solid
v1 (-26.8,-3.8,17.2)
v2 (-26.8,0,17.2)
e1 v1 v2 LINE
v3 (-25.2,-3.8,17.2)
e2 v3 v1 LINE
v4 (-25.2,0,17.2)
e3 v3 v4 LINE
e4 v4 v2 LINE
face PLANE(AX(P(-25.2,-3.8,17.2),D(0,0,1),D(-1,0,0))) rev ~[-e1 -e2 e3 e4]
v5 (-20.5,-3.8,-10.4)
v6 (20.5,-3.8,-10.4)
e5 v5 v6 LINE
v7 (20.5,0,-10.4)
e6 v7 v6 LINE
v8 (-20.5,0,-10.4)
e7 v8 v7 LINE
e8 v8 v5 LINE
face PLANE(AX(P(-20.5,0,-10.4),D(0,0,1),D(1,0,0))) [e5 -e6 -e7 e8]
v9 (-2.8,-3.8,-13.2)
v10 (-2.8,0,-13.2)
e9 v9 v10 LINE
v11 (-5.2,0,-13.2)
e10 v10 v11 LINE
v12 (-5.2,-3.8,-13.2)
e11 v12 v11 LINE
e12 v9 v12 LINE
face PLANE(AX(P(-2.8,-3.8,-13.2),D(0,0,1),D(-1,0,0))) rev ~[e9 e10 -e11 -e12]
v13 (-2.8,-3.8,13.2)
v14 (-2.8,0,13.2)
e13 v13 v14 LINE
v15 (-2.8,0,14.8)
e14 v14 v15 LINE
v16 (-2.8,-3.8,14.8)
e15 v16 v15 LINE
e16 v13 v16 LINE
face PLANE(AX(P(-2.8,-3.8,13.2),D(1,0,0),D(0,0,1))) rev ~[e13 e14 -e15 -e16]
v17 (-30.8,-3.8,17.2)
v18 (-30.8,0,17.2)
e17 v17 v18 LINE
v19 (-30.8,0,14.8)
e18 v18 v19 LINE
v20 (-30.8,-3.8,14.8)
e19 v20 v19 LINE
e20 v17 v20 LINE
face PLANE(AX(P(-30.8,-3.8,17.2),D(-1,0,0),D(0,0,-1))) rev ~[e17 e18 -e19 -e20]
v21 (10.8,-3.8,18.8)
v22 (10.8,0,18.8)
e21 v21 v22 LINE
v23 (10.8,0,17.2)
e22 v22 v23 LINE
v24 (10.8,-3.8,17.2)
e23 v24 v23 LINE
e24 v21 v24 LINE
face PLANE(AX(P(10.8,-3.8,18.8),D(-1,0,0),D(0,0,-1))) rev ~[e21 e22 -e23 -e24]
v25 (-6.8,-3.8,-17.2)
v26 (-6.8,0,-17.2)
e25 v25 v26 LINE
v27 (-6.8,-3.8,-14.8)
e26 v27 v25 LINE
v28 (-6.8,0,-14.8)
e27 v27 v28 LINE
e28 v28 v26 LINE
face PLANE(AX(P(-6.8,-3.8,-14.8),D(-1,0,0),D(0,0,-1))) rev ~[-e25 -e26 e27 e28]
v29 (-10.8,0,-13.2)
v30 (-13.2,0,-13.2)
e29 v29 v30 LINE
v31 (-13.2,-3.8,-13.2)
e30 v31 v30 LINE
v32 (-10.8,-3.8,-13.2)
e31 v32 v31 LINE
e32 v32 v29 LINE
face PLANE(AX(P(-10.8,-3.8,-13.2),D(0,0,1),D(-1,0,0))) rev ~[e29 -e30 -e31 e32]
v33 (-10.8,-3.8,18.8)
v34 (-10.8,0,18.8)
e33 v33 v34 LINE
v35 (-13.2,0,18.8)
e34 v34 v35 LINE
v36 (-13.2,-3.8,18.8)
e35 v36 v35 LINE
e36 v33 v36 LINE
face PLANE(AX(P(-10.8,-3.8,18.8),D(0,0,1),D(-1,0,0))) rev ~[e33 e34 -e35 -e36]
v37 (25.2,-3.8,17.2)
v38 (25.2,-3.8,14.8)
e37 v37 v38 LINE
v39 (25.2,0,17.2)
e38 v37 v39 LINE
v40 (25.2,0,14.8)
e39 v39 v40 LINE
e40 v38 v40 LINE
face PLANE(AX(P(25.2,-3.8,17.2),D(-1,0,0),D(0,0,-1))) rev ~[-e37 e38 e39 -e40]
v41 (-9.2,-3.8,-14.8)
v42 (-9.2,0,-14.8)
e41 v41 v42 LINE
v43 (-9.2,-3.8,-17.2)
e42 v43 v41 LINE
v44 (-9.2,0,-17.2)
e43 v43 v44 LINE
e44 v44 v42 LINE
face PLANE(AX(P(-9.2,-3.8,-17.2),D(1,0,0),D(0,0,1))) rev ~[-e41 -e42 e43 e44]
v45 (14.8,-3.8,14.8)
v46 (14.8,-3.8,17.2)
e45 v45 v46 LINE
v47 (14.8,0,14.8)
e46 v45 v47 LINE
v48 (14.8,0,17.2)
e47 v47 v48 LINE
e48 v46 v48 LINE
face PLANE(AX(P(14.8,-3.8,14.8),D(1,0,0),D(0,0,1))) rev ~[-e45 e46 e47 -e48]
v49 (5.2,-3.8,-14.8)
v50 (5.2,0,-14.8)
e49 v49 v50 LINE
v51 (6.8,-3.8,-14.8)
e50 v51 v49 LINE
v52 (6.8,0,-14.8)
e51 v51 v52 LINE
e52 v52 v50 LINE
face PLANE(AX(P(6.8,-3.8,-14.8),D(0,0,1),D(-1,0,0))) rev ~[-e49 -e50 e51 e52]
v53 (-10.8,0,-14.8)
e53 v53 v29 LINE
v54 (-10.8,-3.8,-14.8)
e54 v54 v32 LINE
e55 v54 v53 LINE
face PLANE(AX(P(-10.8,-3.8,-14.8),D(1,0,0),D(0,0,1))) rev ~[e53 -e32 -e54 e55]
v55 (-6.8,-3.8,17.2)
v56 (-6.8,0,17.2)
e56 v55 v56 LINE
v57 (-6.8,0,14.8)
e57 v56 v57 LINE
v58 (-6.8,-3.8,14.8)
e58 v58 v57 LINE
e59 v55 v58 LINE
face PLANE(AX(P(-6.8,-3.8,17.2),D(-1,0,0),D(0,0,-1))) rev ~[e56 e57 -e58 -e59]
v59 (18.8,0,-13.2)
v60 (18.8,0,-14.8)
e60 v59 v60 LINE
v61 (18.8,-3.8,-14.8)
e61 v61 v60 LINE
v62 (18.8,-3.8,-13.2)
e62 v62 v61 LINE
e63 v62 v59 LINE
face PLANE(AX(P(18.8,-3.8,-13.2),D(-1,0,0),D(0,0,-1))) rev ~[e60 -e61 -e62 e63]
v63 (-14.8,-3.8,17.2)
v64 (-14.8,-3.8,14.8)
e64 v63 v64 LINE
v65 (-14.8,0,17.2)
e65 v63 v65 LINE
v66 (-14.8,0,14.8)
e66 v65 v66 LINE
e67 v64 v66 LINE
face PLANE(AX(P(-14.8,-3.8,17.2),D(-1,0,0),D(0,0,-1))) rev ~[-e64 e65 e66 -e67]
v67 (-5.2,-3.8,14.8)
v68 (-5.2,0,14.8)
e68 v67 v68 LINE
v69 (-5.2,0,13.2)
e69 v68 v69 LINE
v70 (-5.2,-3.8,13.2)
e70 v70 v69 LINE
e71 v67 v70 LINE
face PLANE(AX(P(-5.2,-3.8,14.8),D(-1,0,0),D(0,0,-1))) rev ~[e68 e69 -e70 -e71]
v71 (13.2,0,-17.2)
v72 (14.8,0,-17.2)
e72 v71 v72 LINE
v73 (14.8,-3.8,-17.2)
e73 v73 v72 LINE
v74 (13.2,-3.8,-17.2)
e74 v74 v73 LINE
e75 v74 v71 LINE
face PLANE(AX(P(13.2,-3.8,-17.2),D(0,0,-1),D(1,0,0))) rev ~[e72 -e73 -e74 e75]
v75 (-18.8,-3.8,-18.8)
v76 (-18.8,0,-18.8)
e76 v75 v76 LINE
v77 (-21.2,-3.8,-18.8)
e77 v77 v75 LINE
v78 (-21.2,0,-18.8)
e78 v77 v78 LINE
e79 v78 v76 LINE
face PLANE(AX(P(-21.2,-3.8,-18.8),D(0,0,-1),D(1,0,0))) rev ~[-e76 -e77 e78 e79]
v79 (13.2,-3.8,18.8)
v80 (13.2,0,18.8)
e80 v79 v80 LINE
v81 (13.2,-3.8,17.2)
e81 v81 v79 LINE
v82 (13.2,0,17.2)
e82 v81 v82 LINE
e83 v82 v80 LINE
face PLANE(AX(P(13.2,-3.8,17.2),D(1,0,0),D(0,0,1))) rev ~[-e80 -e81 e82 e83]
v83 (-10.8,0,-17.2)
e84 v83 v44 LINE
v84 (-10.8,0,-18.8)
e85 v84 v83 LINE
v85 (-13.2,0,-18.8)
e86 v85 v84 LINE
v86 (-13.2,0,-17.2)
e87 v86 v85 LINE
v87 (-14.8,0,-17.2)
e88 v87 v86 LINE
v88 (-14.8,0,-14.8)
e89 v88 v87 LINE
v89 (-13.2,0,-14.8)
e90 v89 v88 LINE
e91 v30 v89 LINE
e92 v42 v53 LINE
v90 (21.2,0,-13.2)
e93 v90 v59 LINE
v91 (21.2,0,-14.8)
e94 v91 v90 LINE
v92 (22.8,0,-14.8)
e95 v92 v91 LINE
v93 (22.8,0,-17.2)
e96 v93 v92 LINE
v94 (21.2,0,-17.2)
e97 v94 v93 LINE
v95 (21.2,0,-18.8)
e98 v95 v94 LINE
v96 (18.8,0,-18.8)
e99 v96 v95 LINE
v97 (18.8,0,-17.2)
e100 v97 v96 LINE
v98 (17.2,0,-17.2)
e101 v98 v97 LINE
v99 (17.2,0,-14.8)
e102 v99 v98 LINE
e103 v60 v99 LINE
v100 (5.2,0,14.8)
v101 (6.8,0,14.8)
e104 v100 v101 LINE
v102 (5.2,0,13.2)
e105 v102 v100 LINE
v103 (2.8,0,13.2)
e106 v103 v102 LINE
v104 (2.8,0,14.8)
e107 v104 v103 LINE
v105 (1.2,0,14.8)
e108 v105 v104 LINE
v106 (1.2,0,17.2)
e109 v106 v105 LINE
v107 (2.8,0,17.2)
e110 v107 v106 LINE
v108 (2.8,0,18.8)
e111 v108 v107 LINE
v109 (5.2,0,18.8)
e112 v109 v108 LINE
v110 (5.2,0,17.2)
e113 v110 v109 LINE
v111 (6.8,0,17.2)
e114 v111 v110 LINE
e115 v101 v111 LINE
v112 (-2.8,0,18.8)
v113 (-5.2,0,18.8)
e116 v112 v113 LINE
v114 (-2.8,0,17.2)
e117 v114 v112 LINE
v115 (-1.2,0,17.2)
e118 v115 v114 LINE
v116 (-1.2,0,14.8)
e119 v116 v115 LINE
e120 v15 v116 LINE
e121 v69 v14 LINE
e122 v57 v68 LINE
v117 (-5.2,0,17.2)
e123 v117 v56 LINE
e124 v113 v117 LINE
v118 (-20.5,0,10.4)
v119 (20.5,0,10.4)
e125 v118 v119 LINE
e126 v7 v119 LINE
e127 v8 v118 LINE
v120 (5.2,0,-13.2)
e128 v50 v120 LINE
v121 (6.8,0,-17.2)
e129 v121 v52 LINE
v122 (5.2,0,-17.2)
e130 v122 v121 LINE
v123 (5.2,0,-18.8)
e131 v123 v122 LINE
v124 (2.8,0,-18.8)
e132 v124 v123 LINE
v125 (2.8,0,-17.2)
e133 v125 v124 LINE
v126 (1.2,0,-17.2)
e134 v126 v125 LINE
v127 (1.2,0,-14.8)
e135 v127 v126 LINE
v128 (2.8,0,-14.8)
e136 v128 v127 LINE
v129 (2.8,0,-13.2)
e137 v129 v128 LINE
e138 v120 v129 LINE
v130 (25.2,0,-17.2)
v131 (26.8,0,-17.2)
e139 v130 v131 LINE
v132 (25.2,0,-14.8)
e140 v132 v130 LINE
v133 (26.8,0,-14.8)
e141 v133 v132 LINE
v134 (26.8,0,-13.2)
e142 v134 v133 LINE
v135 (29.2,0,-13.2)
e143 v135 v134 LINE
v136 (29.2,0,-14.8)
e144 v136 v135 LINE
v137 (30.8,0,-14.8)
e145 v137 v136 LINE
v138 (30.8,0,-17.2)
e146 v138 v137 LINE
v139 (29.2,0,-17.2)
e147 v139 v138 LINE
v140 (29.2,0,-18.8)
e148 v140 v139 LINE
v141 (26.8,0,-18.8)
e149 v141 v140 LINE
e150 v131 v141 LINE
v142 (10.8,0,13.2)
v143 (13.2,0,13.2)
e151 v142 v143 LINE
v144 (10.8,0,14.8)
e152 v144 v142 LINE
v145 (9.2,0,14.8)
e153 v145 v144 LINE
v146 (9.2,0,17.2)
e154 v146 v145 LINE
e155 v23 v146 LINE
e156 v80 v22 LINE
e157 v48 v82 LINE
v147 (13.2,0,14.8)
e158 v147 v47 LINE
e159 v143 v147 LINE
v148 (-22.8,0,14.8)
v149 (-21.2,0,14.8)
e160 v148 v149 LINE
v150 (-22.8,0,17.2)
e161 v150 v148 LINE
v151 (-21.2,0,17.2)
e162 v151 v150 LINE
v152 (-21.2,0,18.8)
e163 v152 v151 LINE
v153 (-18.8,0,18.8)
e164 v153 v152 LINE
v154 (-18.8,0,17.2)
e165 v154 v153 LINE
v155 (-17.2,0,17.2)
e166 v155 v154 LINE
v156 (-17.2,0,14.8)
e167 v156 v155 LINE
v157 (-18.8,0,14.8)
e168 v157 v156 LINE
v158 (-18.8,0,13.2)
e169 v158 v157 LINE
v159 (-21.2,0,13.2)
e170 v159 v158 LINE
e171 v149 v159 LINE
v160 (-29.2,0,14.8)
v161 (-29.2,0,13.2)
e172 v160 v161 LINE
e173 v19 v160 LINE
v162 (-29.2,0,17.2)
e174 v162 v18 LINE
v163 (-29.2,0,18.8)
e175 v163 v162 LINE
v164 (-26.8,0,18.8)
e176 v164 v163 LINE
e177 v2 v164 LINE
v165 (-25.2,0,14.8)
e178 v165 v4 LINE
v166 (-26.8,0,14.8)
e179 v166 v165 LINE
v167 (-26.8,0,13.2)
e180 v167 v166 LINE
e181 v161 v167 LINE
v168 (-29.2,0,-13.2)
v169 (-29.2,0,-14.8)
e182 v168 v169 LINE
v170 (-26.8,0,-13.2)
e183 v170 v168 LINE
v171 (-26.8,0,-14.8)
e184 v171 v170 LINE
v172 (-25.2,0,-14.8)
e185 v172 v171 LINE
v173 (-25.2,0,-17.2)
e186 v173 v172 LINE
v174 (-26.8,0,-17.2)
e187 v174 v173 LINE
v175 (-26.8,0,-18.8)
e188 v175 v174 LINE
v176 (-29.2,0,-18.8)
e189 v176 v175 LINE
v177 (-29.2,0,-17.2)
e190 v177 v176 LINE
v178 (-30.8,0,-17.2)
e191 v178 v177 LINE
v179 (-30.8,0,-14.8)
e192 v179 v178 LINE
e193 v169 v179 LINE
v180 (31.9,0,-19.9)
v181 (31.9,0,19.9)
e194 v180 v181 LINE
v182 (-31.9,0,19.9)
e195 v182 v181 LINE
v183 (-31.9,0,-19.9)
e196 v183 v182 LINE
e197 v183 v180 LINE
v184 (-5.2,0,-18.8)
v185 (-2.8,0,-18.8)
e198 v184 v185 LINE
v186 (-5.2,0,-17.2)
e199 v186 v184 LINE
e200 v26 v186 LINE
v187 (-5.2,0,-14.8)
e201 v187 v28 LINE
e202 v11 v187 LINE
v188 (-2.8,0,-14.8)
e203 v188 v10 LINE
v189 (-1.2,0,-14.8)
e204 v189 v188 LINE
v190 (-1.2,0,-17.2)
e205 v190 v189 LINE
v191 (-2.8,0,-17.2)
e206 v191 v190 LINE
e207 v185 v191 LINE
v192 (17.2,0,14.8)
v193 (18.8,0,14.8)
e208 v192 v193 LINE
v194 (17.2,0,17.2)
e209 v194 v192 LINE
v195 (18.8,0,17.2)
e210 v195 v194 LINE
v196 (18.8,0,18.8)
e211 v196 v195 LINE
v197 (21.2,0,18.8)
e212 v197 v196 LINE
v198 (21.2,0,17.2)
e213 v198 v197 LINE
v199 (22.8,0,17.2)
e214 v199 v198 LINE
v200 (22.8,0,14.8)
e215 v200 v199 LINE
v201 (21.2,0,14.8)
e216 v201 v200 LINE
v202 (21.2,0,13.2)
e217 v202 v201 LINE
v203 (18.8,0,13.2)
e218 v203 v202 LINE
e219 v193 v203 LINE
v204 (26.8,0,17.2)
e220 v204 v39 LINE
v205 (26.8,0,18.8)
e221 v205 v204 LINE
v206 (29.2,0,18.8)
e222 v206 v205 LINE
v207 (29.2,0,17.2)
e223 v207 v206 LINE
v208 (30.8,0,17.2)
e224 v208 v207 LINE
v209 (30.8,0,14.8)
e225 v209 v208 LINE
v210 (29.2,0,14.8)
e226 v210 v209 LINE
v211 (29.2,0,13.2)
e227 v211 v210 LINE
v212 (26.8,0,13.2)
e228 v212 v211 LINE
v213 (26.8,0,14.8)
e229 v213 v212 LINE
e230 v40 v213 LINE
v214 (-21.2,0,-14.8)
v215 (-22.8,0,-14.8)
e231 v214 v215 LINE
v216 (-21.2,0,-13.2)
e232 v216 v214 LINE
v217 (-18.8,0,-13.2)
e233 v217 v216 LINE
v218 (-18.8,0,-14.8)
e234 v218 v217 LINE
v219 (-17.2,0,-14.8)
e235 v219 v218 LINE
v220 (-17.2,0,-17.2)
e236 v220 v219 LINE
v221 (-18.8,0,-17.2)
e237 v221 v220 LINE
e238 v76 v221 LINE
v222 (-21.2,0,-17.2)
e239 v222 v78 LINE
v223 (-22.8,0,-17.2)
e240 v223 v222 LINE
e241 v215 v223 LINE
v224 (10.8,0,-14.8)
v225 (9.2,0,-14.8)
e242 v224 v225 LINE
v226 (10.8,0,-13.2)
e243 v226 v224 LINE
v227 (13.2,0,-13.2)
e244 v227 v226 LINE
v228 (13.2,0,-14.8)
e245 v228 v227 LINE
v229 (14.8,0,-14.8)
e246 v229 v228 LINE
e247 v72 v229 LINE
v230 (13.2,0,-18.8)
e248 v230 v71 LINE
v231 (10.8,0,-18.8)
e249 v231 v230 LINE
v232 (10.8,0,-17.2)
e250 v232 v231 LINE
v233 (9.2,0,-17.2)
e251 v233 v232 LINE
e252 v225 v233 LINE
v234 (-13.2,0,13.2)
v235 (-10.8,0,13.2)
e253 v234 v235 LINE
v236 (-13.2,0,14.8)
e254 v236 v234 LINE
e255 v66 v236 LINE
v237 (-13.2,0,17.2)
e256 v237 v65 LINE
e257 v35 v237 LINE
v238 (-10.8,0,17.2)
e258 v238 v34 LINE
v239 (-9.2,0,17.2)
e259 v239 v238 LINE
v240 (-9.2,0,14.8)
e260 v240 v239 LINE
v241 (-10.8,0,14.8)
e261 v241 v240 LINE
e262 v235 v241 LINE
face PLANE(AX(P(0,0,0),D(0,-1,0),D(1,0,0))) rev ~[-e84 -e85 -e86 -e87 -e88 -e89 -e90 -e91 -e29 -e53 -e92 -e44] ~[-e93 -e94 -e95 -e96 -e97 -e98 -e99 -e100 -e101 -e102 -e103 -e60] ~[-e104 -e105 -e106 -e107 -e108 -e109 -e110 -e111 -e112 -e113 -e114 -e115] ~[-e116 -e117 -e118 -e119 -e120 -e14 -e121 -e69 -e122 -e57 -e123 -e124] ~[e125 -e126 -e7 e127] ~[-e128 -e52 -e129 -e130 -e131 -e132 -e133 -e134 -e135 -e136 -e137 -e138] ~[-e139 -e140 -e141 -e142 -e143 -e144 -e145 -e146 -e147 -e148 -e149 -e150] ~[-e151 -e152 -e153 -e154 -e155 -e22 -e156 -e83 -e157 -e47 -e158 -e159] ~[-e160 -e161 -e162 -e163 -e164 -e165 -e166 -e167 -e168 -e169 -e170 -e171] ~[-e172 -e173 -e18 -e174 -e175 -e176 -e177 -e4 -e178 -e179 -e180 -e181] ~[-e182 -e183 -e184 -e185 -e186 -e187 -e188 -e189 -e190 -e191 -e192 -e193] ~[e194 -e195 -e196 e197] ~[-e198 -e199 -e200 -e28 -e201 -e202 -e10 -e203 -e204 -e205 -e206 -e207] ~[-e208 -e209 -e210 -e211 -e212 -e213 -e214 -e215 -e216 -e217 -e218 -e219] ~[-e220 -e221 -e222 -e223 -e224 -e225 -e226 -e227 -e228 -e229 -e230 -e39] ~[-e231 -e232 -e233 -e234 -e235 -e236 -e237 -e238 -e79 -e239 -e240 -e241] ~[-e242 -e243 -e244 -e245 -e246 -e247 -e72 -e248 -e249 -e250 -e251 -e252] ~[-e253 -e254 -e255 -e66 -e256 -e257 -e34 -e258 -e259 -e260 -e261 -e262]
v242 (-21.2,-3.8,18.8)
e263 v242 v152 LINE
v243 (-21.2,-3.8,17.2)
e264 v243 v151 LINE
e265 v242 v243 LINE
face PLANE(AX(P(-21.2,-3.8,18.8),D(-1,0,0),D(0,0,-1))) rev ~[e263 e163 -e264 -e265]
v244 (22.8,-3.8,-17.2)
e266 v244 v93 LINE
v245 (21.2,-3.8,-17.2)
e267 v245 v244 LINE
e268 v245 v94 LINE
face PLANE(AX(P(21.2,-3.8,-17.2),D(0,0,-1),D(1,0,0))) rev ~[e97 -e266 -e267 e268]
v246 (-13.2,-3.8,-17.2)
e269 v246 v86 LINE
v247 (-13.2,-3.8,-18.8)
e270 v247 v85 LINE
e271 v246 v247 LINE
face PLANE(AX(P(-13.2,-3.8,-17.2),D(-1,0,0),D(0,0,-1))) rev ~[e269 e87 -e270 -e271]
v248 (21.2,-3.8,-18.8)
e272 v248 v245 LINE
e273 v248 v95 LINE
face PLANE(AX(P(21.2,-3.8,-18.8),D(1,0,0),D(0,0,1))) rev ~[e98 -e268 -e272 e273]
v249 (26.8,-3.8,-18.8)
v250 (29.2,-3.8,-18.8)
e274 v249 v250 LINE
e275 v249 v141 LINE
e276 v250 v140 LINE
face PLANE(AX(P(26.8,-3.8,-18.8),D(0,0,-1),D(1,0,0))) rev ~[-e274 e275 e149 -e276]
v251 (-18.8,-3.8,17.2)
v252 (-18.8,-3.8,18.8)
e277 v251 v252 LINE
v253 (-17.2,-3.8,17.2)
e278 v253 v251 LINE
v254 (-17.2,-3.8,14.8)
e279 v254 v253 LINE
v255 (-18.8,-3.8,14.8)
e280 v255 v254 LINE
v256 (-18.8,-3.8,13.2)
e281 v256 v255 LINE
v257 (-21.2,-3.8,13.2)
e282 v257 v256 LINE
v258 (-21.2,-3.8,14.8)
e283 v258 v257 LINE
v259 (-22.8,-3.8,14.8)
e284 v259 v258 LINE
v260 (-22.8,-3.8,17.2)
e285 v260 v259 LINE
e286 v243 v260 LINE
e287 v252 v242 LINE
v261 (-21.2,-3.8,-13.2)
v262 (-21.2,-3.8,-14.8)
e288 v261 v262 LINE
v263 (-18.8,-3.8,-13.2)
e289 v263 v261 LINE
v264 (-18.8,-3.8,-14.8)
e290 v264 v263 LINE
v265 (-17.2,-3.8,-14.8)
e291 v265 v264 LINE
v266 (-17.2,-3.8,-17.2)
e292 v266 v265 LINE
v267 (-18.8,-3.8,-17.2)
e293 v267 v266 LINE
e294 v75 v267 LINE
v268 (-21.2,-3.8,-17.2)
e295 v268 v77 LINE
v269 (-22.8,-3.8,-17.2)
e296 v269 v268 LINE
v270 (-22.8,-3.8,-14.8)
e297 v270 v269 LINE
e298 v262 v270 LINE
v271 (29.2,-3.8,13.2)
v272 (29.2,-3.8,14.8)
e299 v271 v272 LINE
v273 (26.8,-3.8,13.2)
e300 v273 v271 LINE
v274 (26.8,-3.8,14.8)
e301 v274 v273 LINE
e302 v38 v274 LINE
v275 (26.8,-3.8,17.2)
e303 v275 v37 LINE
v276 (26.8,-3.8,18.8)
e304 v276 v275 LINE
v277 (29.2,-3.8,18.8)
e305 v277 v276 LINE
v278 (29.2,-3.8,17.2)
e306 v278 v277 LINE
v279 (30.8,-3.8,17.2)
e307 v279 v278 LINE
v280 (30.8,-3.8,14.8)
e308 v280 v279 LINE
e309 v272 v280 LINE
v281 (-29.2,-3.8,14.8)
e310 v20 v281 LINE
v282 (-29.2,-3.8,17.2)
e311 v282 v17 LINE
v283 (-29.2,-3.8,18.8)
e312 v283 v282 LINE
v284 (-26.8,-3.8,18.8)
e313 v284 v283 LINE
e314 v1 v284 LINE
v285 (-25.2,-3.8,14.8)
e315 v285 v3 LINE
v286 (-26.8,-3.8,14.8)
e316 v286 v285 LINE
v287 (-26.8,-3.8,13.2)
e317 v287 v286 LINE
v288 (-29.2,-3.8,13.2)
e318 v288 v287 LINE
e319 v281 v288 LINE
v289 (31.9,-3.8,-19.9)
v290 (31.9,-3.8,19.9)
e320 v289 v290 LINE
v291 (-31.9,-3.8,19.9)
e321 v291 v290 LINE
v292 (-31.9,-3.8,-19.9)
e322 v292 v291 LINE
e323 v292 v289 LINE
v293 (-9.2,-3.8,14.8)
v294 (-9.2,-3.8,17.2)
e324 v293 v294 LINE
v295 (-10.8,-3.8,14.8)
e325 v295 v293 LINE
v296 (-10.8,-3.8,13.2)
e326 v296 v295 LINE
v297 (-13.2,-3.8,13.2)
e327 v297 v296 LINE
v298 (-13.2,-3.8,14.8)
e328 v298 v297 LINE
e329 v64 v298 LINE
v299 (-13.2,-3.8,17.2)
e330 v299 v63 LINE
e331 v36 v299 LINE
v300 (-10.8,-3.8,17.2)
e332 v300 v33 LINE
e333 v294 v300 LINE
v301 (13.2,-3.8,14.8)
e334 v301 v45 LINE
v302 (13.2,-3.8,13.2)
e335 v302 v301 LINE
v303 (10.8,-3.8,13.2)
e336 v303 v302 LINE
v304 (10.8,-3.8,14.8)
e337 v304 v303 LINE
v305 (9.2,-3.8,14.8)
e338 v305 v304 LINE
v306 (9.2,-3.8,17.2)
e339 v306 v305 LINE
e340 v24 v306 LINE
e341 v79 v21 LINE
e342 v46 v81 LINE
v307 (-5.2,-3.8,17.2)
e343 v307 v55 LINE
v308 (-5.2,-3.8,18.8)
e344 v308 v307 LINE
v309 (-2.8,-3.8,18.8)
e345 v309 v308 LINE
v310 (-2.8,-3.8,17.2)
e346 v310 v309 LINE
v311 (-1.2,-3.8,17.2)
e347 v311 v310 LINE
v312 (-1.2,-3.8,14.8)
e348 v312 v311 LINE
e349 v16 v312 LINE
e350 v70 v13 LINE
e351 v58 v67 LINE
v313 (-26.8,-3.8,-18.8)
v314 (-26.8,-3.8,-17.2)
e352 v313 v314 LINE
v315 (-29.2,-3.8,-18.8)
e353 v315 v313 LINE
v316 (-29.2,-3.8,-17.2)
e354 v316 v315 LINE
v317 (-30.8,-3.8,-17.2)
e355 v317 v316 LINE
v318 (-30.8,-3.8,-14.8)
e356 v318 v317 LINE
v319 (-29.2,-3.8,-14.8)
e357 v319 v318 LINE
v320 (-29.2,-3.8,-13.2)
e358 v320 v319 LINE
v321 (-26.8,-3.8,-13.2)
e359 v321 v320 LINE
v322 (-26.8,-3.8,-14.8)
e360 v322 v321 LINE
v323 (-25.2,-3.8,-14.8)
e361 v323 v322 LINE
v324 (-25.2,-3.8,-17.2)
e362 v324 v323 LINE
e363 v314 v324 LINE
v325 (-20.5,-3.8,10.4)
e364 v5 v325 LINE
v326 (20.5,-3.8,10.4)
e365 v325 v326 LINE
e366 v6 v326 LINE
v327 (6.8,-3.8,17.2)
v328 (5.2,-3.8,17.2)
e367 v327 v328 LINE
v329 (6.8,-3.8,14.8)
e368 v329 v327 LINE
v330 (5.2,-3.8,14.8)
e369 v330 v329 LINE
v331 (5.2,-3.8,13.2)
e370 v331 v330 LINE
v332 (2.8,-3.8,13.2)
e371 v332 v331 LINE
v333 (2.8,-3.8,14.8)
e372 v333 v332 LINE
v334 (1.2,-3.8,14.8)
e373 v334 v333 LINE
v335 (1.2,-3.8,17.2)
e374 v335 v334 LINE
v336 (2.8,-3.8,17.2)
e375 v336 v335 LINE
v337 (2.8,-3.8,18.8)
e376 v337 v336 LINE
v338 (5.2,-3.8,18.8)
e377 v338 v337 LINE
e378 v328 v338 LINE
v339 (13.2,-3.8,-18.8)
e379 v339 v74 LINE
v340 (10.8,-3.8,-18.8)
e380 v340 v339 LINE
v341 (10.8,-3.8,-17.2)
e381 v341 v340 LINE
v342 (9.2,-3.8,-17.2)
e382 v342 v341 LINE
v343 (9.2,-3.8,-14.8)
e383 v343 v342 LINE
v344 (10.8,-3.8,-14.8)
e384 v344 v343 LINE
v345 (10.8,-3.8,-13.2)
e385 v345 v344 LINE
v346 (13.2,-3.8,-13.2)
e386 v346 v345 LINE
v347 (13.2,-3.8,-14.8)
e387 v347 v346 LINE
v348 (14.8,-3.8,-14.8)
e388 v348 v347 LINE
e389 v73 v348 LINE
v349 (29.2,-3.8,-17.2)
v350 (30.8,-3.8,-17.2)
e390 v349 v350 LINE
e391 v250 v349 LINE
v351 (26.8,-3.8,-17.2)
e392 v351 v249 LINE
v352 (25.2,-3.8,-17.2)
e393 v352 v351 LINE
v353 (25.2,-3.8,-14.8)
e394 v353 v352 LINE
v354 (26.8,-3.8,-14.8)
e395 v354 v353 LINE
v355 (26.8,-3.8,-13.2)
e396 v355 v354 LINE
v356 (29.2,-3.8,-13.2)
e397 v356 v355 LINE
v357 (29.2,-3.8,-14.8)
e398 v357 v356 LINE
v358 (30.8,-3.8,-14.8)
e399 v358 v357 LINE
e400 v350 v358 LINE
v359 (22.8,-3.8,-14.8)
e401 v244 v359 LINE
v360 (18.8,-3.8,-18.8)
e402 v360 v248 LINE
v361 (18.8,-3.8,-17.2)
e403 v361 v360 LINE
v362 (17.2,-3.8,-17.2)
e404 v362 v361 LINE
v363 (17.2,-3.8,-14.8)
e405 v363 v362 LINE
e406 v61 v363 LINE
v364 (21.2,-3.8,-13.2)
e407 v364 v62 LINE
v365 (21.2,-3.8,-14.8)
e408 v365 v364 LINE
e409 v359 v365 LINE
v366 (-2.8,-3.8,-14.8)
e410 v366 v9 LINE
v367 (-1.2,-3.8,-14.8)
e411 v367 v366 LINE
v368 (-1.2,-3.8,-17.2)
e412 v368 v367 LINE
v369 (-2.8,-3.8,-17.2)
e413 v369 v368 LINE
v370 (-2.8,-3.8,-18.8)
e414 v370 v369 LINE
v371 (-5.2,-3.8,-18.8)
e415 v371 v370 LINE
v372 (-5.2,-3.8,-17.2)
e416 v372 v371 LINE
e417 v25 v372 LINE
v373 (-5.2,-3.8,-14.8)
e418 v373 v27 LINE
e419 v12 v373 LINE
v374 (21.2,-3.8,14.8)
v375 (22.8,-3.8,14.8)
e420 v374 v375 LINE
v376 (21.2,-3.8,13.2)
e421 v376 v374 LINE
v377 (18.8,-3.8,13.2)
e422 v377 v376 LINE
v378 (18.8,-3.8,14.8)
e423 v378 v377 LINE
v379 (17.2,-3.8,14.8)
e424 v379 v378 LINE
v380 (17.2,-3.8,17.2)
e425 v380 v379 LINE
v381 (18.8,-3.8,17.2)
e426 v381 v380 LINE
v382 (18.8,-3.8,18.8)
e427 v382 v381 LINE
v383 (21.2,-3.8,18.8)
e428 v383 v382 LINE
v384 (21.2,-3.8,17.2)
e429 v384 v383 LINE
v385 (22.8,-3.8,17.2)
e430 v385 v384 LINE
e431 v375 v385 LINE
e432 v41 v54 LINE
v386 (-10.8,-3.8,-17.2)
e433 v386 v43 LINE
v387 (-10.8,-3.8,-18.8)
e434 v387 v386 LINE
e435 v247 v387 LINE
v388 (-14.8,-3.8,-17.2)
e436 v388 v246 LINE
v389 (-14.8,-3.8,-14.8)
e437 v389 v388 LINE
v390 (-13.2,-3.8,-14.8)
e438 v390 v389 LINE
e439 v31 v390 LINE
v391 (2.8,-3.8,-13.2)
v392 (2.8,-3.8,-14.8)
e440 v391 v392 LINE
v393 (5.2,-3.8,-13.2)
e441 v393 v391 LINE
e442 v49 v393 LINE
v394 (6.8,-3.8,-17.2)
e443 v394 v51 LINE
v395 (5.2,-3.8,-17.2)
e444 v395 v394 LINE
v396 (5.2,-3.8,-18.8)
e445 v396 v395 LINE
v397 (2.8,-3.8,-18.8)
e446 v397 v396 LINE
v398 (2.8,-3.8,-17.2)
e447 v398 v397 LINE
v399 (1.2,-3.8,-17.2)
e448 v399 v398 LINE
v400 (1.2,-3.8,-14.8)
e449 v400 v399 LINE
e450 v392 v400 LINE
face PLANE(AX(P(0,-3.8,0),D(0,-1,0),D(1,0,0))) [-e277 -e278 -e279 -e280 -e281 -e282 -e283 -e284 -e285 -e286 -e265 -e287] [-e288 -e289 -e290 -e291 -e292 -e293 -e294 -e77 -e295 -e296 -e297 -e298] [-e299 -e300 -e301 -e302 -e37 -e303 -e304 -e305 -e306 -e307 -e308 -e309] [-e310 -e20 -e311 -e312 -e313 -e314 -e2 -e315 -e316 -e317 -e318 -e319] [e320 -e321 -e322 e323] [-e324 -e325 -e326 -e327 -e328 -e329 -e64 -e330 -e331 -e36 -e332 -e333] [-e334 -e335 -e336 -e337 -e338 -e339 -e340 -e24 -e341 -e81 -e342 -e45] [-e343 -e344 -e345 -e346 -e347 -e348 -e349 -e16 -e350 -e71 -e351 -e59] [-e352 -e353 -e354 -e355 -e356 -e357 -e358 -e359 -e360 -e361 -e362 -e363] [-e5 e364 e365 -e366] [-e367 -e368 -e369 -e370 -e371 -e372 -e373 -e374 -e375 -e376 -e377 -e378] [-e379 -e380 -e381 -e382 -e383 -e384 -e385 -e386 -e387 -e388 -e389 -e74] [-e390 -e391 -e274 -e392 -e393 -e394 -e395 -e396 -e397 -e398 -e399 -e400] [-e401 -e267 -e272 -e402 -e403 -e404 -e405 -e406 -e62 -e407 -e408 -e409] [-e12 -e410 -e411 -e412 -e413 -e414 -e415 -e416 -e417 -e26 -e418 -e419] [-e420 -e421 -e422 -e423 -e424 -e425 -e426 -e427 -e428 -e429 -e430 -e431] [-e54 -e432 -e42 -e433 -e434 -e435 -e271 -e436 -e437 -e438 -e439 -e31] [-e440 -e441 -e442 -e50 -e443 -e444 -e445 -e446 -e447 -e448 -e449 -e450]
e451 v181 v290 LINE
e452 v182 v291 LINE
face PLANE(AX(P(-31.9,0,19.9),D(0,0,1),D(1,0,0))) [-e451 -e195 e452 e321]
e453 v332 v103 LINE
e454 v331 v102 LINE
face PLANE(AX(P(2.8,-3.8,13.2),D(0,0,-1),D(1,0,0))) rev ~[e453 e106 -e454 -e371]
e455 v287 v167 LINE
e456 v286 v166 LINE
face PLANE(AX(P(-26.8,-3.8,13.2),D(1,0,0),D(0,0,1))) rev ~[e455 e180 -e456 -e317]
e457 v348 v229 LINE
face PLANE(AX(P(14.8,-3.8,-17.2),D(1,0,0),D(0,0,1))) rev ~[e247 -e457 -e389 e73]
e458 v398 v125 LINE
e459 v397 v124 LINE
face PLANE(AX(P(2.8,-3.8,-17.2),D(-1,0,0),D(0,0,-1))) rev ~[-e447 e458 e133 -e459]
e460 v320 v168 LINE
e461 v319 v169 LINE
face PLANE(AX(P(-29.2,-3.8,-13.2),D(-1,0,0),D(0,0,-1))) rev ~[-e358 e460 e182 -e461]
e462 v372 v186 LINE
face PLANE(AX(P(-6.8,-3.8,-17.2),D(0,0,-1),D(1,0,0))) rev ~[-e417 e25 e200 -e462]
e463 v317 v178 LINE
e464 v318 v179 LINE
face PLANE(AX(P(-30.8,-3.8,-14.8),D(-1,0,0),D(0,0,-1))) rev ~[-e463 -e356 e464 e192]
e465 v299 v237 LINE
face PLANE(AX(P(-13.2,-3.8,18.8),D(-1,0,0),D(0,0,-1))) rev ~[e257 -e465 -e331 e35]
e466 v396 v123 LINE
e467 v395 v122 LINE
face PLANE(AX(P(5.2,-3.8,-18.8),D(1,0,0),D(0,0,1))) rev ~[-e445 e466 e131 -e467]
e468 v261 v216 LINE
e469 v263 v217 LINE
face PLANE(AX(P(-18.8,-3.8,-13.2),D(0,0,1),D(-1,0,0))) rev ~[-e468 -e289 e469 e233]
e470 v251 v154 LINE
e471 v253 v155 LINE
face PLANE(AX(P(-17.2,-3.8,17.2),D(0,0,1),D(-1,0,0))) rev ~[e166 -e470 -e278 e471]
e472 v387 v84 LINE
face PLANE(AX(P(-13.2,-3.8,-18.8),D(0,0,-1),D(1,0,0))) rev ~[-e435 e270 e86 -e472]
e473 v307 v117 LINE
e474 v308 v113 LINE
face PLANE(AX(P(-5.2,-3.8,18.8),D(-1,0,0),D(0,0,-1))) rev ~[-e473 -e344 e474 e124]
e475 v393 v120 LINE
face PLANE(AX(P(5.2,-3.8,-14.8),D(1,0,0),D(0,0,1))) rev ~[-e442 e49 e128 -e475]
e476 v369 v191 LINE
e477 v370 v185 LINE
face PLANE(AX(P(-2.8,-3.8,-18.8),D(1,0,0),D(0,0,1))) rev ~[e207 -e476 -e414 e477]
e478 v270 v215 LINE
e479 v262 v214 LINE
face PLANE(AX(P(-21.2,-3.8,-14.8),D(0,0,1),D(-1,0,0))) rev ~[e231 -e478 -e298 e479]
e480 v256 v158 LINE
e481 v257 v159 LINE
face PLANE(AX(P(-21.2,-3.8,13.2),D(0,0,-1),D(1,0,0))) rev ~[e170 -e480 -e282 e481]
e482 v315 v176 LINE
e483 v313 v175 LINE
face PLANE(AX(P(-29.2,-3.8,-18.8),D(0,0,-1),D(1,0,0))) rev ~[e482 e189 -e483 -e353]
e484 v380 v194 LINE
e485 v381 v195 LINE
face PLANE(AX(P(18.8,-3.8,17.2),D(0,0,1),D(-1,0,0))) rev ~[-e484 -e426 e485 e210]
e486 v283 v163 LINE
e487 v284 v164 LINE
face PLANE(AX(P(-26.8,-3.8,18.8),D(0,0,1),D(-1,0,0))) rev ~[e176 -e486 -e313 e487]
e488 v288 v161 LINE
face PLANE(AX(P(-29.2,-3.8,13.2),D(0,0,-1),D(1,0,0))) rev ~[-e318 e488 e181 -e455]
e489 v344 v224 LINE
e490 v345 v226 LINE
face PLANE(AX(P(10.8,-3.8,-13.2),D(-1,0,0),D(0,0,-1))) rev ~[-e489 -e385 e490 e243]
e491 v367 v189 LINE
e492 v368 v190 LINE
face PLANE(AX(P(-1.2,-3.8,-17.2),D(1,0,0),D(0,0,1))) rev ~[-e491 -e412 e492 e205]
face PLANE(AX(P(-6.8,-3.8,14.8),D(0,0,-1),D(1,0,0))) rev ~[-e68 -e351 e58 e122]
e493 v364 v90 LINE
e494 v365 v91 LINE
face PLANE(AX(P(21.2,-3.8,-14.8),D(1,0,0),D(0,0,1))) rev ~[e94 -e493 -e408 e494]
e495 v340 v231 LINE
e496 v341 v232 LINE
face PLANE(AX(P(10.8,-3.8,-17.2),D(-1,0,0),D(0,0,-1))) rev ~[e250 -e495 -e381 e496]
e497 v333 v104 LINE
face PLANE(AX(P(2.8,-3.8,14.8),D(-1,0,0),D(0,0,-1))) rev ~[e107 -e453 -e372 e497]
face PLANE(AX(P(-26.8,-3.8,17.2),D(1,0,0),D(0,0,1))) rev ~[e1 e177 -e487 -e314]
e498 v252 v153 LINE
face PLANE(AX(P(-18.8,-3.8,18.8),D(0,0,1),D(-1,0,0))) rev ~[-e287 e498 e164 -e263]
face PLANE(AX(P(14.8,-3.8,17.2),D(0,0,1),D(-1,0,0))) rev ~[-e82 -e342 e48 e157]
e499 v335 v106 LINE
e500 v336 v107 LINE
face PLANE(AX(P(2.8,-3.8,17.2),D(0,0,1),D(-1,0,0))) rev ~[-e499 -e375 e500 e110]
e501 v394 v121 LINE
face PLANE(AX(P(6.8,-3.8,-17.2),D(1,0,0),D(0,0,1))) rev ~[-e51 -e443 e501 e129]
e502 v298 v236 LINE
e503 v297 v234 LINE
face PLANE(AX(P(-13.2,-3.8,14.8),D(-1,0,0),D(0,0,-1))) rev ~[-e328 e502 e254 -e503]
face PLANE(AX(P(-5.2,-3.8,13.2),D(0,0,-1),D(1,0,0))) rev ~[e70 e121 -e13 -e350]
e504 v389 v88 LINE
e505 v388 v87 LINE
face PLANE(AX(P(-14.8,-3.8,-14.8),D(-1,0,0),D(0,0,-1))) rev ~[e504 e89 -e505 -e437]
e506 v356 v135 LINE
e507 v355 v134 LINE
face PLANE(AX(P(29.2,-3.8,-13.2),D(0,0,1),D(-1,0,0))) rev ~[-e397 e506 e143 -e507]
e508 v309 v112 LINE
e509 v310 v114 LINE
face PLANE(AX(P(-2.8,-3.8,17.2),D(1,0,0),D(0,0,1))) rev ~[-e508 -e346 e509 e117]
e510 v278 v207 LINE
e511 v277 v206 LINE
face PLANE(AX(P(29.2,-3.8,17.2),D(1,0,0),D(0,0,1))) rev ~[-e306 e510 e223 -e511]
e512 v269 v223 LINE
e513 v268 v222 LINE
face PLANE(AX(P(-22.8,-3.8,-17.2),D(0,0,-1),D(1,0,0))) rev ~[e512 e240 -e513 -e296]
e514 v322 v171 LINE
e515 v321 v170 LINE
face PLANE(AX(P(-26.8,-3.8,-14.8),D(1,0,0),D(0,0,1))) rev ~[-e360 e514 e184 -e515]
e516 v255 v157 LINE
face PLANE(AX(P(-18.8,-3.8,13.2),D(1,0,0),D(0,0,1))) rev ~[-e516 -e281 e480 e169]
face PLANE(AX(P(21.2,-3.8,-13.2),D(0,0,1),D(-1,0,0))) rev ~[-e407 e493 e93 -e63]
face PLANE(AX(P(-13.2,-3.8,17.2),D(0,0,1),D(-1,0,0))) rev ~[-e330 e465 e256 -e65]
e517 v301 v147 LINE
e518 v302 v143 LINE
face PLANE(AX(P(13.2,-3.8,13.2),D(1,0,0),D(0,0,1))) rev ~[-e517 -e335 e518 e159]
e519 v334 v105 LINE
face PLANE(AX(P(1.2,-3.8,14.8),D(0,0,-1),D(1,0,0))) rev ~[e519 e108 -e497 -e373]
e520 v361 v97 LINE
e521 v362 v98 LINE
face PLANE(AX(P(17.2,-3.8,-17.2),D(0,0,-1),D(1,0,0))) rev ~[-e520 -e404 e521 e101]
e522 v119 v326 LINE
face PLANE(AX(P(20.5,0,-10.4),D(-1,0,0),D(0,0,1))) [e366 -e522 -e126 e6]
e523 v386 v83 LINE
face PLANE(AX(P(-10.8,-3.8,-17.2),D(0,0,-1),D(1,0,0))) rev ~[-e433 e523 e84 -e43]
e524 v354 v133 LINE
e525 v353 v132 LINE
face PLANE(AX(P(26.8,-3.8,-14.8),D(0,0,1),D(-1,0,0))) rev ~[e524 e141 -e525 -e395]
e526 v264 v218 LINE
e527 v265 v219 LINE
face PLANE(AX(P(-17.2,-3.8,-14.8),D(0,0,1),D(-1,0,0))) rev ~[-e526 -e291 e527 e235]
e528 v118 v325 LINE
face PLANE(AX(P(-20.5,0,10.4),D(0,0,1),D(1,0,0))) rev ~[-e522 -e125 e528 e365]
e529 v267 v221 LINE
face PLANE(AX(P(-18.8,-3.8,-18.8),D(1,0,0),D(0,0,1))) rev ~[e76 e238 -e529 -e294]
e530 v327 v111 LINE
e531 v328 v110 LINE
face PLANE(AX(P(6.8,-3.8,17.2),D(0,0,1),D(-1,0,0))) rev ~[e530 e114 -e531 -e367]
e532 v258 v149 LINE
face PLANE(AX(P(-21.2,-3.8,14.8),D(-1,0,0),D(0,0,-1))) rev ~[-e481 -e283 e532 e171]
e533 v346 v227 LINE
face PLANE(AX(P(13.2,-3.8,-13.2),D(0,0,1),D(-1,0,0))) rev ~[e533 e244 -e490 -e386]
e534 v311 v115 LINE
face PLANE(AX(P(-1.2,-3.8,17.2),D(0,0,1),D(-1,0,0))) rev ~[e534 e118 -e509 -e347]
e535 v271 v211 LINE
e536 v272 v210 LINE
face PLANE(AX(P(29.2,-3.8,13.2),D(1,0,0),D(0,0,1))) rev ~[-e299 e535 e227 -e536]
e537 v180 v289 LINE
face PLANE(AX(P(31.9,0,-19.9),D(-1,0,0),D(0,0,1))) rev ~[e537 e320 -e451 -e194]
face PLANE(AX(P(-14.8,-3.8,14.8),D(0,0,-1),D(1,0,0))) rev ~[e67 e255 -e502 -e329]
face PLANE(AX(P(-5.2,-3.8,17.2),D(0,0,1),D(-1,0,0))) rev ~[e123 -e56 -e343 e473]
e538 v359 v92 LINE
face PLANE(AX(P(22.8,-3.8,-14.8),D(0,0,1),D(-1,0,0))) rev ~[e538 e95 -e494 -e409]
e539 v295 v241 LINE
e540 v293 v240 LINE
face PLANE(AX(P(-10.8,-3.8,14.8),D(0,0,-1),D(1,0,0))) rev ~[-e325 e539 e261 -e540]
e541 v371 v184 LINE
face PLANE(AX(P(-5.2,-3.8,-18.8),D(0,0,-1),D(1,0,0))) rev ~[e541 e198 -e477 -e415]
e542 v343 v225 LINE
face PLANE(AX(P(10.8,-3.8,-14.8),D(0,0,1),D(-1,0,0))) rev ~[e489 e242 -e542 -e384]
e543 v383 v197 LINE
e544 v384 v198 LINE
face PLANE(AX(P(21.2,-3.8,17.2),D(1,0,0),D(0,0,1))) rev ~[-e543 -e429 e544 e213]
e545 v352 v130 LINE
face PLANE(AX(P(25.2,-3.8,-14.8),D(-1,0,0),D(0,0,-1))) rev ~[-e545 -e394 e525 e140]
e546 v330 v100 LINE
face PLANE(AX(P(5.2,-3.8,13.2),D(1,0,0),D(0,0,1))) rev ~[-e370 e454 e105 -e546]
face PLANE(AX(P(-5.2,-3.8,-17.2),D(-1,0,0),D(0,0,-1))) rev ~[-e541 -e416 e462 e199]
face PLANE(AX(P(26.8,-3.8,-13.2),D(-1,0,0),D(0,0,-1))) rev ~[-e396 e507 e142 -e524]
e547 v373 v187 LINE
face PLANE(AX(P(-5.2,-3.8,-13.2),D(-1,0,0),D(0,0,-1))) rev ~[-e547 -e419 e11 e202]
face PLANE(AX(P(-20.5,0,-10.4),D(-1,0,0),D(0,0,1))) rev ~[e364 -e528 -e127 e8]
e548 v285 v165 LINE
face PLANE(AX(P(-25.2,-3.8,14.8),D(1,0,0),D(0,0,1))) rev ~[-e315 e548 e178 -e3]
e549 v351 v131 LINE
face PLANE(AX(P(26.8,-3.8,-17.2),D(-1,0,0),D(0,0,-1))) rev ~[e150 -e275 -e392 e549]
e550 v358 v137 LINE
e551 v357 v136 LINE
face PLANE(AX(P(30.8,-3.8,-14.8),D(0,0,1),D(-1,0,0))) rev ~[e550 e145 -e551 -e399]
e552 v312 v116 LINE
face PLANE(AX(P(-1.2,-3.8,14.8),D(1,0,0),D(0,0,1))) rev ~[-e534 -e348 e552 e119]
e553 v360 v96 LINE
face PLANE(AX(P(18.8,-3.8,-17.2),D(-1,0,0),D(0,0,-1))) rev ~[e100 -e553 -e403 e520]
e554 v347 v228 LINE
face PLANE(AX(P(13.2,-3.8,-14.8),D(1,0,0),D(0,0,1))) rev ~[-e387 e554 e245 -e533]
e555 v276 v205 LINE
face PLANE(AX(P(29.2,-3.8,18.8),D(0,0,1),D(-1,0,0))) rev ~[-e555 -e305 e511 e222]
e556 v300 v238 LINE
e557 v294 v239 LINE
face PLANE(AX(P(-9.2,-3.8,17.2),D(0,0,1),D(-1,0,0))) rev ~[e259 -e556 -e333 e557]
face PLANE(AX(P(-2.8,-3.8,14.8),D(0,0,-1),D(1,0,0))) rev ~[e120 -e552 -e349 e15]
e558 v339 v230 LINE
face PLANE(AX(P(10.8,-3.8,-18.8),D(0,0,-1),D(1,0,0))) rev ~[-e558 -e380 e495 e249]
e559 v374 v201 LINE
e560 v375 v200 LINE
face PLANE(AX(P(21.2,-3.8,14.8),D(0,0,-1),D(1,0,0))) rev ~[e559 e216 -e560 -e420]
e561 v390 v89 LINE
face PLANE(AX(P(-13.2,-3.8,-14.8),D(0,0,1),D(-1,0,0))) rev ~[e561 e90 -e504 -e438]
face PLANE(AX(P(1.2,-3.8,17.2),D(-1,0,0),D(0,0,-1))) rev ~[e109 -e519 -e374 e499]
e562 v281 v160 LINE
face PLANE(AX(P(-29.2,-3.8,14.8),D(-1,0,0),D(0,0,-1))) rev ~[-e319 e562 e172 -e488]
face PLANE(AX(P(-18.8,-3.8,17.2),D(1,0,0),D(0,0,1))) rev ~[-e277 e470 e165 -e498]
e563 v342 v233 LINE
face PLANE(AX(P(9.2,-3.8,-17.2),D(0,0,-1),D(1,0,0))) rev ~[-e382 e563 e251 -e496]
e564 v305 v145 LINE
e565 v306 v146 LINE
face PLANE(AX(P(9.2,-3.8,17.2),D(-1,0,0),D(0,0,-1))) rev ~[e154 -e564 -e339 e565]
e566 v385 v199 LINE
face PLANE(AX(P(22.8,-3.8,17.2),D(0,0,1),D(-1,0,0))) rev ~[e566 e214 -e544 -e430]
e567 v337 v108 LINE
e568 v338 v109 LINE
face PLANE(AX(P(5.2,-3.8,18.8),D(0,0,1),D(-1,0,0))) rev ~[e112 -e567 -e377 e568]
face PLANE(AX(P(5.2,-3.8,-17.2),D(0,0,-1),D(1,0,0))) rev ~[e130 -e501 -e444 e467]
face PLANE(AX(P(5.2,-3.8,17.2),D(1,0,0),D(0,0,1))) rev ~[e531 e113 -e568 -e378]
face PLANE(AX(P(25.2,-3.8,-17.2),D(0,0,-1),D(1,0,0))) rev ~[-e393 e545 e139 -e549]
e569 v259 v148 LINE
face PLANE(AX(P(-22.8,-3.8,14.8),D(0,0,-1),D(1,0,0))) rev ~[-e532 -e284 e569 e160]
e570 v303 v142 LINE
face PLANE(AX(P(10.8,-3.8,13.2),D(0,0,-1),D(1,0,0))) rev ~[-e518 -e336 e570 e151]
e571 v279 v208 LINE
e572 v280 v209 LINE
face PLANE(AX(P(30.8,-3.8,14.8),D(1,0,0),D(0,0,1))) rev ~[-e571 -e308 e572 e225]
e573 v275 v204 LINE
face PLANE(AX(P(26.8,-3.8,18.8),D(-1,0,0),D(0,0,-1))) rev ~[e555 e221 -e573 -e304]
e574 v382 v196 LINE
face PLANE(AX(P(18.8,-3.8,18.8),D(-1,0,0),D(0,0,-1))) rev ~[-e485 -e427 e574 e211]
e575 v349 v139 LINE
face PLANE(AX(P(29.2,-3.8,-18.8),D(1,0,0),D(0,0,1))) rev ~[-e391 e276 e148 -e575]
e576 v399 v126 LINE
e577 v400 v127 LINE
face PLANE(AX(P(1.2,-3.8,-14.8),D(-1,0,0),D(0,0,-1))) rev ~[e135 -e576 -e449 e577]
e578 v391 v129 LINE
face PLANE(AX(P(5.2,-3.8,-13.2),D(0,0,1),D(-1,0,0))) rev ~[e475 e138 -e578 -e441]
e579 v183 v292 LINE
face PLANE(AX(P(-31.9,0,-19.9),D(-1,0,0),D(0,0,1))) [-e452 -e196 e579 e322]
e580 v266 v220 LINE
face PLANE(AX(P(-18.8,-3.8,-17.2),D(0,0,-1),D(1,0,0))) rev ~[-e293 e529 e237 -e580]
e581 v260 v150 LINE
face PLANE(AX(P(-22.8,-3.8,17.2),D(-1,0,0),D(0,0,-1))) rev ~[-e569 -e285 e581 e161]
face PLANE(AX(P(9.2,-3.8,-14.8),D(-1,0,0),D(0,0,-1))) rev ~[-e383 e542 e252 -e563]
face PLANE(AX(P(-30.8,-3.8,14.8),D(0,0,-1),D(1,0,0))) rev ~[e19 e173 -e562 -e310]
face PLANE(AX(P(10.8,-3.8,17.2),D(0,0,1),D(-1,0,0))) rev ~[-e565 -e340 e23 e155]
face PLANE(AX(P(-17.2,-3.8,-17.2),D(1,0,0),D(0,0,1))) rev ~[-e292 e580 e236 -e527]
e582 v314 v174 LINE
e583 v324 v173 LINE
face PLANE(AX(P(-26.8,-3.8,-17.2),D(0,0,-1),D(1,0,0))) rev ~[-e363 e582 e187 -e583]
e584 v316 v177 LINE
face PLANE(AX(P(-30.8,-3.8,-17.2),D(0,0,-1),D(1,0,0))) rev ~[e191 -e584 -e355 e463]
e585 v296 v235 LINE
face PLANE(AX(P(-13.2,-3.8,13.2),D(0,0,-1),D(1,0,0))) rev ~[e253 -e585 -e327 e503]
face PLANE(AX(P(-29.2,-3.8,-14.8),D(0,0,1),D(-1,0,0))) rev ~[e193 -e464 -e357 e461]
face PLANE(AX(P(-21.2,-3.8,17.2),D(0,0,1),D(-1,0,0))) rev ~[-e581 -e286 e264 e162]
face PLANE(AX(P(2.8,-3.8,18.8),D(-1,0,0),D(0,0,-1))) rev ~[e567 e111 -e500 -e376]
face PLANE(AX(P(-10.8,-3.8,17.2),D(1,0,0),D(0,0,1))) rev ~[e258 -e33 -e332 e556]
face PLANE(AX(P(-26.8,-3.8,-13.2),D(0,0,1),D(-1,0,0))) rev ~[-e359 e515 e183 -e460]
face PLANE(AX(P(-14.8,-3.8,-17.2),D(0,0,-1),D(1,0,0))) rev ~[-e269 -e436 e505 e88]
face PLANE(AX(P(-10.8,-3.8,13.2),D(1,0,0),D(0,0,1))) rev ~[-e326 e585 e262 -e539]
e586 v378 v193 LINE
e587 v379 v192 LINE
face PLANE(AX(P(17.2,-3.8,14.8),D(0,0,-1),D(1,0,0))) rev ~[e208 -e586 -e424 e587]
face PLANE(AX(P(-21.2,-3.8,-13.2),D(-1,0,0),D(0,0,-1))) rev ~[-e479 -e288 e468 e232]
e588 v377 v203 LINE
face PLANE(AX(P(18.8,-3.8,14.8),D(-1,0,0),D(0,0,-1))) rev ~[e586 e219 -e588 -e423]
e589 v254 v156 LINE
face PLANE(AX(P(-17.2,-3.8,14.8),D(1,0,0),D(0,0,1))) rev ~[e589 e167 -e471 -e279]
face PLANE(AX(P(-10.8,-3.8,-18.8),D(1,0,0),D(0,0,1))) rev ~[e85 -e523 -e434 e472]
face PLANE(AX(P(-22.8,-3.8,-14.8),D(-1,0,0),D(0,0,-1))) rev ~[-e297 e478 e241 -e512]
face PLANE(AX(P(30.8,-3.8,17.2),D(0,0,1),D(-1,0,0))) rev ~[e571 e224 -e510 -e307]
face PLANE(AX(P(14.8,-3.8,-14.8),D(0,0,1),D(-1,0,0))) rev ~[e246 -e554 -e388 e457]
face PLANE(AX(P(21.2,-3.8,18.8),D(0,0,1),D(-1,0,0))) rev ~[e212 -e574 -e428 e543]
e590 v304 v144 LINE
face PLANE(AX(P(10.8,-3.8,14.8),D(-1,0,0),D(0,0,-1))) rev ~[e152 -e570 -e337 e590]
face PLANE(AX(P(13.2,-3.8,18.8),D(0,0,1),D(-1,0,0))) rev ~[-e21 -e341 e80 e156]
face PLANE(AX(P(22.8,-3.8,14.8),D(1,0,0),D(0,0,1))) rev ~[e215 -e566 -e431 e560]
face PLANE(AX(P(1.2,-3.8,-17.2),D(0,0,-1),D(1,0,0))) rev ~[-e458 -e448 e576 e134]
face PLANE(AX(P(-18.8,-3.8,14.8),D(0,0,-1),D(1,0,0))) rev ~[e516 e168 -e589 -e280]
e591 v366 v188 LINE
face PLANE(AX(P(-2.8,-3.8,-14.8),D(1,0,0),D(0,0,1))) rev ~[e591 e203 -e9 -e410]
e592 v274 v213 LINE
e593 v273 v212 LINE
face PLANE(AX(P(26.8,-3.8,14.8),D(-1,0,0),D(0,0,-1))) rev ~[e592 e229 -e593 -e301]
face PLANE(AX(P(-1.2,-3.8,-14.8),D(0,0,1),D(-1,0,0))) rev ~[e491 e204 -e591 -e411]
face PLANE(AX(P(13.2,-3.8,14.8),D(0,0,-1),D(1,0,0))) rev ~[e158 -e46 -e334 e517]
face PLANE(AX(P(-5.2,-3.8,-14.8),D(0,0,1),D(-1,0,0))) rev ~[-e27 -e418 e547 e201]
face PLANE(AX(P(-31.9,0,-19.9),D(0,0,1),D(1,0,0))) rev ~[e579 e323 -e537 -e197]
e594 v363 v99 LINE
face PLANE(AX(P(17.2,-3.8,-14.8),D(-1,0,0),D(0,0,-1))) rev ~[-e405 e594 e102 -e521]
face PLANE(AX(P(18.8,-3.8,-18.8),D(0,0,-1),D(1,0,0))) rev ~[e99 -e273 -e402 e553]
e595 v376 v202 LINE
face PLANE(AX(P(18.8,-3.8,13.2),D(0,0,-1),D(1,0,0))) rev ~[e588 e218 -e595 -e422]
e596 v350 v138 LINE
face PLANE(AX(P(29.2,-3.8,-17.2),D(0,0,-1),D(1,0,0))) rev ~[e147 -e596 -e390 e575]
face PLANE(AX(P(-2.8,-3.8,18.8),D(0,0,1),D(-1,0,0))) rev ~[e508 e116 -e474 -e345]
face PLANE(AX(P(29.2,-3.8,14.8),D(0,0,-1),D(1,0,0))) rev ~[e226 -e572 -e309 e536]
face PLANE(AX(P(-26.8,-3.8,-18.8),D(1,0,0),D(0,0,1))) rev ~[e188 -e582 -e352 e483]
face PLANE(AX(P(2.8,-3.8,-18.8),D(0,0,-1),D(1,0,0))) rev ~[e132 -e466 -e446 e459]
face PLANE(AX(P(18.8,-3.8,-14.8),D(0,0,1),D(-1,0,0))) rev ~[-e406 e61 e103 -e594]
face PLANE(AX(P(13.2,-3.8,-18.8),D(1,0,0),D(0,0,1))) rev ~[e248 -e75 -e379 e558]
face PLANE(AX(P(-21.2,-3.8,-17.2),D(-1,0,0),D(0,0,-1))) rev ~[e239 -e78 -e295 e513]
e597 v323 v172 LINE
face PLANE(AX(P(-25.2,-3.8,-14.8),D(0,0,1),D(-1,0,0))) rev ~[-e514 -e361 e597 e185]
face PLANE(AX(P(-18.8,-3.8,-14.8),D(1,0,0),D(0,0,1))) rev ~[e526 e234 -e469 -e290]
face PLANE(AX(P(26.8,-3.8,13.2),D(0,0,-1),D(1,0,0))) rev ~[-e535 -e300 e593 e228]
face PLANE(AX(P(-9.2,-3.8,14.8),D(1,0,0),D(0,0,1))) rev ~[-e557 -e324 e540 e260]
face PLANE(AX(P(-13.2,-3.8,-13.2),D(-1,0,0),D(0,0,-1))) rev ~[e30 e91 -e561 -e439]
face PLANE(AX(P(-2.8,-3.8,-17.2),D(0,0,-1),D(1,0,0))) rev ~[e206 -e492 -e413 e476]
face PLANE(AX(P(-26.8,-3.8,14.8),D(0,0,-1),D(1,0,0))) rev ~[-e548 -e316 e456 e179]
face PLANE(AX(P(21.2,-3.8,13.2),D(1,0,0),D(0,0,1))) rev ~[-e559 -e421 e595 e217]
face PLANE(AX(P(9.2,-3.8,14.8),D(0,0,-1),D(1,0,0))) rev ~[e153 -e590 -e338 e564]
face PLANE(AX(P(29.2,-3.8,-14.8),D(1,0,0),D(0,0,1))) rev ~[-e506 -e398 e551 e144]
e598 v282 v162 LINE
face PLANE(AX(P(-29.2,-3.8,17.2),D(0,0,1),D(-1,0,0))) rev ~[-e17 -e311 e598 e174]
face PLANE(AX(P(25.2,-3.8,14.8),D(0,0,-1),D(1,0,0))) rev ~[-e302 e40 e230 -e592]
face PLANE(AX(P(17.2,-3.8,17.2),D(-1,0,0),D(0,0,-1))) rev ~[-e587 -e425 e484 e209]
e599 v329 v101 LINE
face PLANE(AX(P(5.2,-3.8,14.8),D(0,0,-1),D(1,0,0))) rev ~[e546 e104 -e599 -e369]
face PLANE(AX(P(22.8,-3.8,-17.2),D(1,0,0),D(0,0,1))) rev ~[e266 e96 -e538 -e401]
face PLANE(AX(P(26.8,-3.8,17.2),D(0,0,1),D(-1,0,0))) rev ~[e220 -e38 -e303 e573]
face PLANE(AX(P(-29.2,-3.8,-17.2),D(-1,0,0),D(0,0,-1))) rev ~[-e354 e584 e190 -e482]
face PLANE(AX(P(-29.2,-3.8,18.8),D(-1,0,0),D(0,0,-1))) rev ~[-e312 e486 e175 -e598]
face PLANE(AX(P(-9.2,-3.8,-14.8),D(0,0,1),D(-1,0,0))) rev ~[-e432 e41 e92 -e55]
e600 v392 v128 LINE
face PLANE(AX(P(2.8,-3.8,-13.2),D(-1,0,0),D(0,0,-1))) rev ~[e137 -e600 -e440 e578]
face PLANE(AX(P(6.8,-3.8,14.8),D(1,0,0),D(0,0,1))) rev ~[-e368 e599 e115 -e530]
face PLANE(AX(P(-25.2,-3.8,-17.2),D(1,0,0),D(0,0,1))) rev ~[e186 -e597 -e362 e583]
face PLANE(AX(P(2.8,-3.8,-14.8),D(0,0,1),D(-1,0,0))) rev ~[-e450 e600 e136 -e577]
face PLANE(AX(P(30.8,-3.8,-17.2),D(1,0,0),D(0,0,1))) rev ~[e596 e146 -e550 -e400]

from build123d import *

# Parameters (mm, degrees)
F0_W     = 63.8
F0_H     = 39.8
F0_W_2   = 41
F0_H_2   = 20.8
F1_DEPTH = 3.8
F3_DEPTH = 25


with BuildPart() as f1:
    # F0 (on Front) → F1 (new body)
    with BuildSketch(Plane.XZ):
        Rectangle(F0_W, F0_H)
        Rectangle(F0_W_2, F0_H_2, mode=Mode.SUBTRACT)
    extrude(amount=F1_DEPTH)

    # F2 (on face) → F3 (cut)
    with BuildSketch(Plane.XZ.offset(3.8)):
        Polygon((-29.2, 17.2), (-30.8, 17.2), (-30.8, 14.8), (-29.2, 14.8), (-29.2, 13.2), (-26.8, 13.2), (-26.8, 14.8), (-25.2, 14.8), (-25.2, 17.2), (-26.8, 17.2), (-26.8, 18.8), (-29.2, 18.8), align=None)
        Polygon((-26.8, -13.2), (-29.2, -13.2), (-29.2, -14.8), (-30.8, -14.8), (-30.8, -17.2), (-29.2, -17.2), (-29.2, -18.8), (-26.8, -18.8), (-26.8, -17.2), (-25.2, -17.2), (-25.2, -14.8), (-26.8, -14.8), align=None)
        Polygon((-18.8, 18.8), (-21.2, 18.8), (-21.2, 17.2), (-22.8, 17.2), (-22.8, 14.8), (-21.2, 14.8), (-21.2, 13.2), (-18.8, 13.2), (-18.8, 14.8), (-17.2, 14.8), (-17.2, 17.2), (-18.8, 17.2), align=None)
        Polygon((-18.8, -13.2), (-21.2, -13.2), (-21.2, -14.8), (-22.8, -14.8), (-22.8, -17.2), (-21.2, -17.2), (-21.2, -18.8), (-18.8, -18.8), (-18.8, -17.2), (-17.2, -17.2), (-17.2, -14.8), (-18.8, -14.8), align=None)
        Polygon((-10.8, 18.8), (-13.2, 18.8), (-13.2, 17.2), (-14.8, 17.2), (-14.8, 14.8), (-13.2, 14.8), (-13.2, 13.2), (-10.8, 13.2), (-10.8, 14.8), (-9.2, 14.8), (-9.2, 17.2), (-10.8, 17.2), align=None)
        Polygon((-10.8, -13.2), (-13.2, -13.2), (-13.2, -14.8), (-14.8, -14.8), (-14.8, -17.2), (-13.2, -17.2), (-13.2, -18.8), (-10.8, -18.8), (-10.8, -17.2), (-9.2, -17.2), (-9.2, -14.8), (-10.8, -14.8), align=None)
        Polygon((-2.8, 18.8), (-5.2, 18.8), (-5.2, 17.2), (-6.8, 17.2), (-6.8, 14.8), (-5.2, 14.8), (-5.2, 13.2), (-2.8, 13.2), (-2.8, 14.8), (-1.2, 14.8), (-1.2, 17.2), (-2.8, 17.2), align=None)
        Polygon((-2.8, -13.2), (-5.2, -13.2), (-5.2, -14.8), (-6.8, -14.8), (-6.8, -17.2), (-5.2, -17.2), (-5.2, -18.8), (-2.8, -18.8), (-2.8, -17.2), (-1.2, -17.2), (-1.2, -14.8), (-2.8, -14.8), align=None)
        Polygon((5.2, 18.8), (2.8, 18.8), (2.8, 17.2), (1.2, 17.2), (1.2, 14.8), (2.8, 14.8), (2.8, 13.2), (5.2, 13.2), (5.2, 14.8), (6.8, 14.8), (6.8, 17.2), (5.2, 17.2), align=None)
        Polygon((5.2, -13.2), (2.8, -13.2), (2.8, -14.8), (1.2, -14.8), (1.2, -17.2), (2.8, -17.2), (2.8, -18.8), (5.2, -18.8), (5.2, -17.2), (6.8, -17.2), (6.8, -14.8), (5.2, -14.8), align=None)
        Polygon((13.2, 18.8), (10.8, 18.8), (10.8, 17.2), (9.2, 17.2), (9.2, 14.8), (10.8, 14.8), (10.8, 13.2), (13.2, 13.2), (13.2, 14.8), (14.8, 14.8), (14.8, 17.2), (13.2, 17.2), align=None)
        Polygon((13.2, -13.2), (10.8, -13.2), (10.8, -14.8), (9.2, -14.8), (9.2, -17.2), (10.8, -17.2), (10.8, -18.8), (13.2, -18.8), (13.2, -17.2), (14.8, -17.2), (14.8, -14.8), (13.2, -14.8), align=None)
        Polygon((21.2, 18.8), (18.8, 18.8), (18.8, 17.2), (17.2, 17.2), (17.2, 14.8), (18.8, 14.8), (18.8, 13.2), (21.2, 13.2), (21.2, 14.8), (22.8, 14.8), (22.8, 17.2), (21.2, 17.2), align=None)
        Polygon((21.2, -13.2), (18.8, -13.2), (18.8, -14.8), (17.2, -14.8), (17.2, -17.2), (18.8, -17.2), (18.8, -18.8), (21.2, -18.8), (21.2, -17.2), (22.8, -17.2), (22.8, -14.8), (21.2, -14.8), align=None)
        Polygon((29.2, 18.8), (26.8, 18.8), (26.8, 17.2), (25.2, 17.2), (25.2, 14.8), (26.8, 14.8), (26.8, 13.2), (29.2, 13.2), (29.2, 14.8), (30.8, 14.8), (30.8, 17.2), (29.2, 17.2), align=None)
        Polygon((29.2, -13.2), (26.8, -13.2), (26.8, -14.8), (25.2, -14.8), (25.2, -17.2), (26.8, -17.2), (26.8, -18.8), (29.2, -18.8), (29.2, -17.2), (30.8, -17.2), (30.8, -14.8), (29.2, -14.8), align=None)
    extrude(amount=-F3_DEPTH, mode=Mode.SUBTRACT)


solid = f1.part
